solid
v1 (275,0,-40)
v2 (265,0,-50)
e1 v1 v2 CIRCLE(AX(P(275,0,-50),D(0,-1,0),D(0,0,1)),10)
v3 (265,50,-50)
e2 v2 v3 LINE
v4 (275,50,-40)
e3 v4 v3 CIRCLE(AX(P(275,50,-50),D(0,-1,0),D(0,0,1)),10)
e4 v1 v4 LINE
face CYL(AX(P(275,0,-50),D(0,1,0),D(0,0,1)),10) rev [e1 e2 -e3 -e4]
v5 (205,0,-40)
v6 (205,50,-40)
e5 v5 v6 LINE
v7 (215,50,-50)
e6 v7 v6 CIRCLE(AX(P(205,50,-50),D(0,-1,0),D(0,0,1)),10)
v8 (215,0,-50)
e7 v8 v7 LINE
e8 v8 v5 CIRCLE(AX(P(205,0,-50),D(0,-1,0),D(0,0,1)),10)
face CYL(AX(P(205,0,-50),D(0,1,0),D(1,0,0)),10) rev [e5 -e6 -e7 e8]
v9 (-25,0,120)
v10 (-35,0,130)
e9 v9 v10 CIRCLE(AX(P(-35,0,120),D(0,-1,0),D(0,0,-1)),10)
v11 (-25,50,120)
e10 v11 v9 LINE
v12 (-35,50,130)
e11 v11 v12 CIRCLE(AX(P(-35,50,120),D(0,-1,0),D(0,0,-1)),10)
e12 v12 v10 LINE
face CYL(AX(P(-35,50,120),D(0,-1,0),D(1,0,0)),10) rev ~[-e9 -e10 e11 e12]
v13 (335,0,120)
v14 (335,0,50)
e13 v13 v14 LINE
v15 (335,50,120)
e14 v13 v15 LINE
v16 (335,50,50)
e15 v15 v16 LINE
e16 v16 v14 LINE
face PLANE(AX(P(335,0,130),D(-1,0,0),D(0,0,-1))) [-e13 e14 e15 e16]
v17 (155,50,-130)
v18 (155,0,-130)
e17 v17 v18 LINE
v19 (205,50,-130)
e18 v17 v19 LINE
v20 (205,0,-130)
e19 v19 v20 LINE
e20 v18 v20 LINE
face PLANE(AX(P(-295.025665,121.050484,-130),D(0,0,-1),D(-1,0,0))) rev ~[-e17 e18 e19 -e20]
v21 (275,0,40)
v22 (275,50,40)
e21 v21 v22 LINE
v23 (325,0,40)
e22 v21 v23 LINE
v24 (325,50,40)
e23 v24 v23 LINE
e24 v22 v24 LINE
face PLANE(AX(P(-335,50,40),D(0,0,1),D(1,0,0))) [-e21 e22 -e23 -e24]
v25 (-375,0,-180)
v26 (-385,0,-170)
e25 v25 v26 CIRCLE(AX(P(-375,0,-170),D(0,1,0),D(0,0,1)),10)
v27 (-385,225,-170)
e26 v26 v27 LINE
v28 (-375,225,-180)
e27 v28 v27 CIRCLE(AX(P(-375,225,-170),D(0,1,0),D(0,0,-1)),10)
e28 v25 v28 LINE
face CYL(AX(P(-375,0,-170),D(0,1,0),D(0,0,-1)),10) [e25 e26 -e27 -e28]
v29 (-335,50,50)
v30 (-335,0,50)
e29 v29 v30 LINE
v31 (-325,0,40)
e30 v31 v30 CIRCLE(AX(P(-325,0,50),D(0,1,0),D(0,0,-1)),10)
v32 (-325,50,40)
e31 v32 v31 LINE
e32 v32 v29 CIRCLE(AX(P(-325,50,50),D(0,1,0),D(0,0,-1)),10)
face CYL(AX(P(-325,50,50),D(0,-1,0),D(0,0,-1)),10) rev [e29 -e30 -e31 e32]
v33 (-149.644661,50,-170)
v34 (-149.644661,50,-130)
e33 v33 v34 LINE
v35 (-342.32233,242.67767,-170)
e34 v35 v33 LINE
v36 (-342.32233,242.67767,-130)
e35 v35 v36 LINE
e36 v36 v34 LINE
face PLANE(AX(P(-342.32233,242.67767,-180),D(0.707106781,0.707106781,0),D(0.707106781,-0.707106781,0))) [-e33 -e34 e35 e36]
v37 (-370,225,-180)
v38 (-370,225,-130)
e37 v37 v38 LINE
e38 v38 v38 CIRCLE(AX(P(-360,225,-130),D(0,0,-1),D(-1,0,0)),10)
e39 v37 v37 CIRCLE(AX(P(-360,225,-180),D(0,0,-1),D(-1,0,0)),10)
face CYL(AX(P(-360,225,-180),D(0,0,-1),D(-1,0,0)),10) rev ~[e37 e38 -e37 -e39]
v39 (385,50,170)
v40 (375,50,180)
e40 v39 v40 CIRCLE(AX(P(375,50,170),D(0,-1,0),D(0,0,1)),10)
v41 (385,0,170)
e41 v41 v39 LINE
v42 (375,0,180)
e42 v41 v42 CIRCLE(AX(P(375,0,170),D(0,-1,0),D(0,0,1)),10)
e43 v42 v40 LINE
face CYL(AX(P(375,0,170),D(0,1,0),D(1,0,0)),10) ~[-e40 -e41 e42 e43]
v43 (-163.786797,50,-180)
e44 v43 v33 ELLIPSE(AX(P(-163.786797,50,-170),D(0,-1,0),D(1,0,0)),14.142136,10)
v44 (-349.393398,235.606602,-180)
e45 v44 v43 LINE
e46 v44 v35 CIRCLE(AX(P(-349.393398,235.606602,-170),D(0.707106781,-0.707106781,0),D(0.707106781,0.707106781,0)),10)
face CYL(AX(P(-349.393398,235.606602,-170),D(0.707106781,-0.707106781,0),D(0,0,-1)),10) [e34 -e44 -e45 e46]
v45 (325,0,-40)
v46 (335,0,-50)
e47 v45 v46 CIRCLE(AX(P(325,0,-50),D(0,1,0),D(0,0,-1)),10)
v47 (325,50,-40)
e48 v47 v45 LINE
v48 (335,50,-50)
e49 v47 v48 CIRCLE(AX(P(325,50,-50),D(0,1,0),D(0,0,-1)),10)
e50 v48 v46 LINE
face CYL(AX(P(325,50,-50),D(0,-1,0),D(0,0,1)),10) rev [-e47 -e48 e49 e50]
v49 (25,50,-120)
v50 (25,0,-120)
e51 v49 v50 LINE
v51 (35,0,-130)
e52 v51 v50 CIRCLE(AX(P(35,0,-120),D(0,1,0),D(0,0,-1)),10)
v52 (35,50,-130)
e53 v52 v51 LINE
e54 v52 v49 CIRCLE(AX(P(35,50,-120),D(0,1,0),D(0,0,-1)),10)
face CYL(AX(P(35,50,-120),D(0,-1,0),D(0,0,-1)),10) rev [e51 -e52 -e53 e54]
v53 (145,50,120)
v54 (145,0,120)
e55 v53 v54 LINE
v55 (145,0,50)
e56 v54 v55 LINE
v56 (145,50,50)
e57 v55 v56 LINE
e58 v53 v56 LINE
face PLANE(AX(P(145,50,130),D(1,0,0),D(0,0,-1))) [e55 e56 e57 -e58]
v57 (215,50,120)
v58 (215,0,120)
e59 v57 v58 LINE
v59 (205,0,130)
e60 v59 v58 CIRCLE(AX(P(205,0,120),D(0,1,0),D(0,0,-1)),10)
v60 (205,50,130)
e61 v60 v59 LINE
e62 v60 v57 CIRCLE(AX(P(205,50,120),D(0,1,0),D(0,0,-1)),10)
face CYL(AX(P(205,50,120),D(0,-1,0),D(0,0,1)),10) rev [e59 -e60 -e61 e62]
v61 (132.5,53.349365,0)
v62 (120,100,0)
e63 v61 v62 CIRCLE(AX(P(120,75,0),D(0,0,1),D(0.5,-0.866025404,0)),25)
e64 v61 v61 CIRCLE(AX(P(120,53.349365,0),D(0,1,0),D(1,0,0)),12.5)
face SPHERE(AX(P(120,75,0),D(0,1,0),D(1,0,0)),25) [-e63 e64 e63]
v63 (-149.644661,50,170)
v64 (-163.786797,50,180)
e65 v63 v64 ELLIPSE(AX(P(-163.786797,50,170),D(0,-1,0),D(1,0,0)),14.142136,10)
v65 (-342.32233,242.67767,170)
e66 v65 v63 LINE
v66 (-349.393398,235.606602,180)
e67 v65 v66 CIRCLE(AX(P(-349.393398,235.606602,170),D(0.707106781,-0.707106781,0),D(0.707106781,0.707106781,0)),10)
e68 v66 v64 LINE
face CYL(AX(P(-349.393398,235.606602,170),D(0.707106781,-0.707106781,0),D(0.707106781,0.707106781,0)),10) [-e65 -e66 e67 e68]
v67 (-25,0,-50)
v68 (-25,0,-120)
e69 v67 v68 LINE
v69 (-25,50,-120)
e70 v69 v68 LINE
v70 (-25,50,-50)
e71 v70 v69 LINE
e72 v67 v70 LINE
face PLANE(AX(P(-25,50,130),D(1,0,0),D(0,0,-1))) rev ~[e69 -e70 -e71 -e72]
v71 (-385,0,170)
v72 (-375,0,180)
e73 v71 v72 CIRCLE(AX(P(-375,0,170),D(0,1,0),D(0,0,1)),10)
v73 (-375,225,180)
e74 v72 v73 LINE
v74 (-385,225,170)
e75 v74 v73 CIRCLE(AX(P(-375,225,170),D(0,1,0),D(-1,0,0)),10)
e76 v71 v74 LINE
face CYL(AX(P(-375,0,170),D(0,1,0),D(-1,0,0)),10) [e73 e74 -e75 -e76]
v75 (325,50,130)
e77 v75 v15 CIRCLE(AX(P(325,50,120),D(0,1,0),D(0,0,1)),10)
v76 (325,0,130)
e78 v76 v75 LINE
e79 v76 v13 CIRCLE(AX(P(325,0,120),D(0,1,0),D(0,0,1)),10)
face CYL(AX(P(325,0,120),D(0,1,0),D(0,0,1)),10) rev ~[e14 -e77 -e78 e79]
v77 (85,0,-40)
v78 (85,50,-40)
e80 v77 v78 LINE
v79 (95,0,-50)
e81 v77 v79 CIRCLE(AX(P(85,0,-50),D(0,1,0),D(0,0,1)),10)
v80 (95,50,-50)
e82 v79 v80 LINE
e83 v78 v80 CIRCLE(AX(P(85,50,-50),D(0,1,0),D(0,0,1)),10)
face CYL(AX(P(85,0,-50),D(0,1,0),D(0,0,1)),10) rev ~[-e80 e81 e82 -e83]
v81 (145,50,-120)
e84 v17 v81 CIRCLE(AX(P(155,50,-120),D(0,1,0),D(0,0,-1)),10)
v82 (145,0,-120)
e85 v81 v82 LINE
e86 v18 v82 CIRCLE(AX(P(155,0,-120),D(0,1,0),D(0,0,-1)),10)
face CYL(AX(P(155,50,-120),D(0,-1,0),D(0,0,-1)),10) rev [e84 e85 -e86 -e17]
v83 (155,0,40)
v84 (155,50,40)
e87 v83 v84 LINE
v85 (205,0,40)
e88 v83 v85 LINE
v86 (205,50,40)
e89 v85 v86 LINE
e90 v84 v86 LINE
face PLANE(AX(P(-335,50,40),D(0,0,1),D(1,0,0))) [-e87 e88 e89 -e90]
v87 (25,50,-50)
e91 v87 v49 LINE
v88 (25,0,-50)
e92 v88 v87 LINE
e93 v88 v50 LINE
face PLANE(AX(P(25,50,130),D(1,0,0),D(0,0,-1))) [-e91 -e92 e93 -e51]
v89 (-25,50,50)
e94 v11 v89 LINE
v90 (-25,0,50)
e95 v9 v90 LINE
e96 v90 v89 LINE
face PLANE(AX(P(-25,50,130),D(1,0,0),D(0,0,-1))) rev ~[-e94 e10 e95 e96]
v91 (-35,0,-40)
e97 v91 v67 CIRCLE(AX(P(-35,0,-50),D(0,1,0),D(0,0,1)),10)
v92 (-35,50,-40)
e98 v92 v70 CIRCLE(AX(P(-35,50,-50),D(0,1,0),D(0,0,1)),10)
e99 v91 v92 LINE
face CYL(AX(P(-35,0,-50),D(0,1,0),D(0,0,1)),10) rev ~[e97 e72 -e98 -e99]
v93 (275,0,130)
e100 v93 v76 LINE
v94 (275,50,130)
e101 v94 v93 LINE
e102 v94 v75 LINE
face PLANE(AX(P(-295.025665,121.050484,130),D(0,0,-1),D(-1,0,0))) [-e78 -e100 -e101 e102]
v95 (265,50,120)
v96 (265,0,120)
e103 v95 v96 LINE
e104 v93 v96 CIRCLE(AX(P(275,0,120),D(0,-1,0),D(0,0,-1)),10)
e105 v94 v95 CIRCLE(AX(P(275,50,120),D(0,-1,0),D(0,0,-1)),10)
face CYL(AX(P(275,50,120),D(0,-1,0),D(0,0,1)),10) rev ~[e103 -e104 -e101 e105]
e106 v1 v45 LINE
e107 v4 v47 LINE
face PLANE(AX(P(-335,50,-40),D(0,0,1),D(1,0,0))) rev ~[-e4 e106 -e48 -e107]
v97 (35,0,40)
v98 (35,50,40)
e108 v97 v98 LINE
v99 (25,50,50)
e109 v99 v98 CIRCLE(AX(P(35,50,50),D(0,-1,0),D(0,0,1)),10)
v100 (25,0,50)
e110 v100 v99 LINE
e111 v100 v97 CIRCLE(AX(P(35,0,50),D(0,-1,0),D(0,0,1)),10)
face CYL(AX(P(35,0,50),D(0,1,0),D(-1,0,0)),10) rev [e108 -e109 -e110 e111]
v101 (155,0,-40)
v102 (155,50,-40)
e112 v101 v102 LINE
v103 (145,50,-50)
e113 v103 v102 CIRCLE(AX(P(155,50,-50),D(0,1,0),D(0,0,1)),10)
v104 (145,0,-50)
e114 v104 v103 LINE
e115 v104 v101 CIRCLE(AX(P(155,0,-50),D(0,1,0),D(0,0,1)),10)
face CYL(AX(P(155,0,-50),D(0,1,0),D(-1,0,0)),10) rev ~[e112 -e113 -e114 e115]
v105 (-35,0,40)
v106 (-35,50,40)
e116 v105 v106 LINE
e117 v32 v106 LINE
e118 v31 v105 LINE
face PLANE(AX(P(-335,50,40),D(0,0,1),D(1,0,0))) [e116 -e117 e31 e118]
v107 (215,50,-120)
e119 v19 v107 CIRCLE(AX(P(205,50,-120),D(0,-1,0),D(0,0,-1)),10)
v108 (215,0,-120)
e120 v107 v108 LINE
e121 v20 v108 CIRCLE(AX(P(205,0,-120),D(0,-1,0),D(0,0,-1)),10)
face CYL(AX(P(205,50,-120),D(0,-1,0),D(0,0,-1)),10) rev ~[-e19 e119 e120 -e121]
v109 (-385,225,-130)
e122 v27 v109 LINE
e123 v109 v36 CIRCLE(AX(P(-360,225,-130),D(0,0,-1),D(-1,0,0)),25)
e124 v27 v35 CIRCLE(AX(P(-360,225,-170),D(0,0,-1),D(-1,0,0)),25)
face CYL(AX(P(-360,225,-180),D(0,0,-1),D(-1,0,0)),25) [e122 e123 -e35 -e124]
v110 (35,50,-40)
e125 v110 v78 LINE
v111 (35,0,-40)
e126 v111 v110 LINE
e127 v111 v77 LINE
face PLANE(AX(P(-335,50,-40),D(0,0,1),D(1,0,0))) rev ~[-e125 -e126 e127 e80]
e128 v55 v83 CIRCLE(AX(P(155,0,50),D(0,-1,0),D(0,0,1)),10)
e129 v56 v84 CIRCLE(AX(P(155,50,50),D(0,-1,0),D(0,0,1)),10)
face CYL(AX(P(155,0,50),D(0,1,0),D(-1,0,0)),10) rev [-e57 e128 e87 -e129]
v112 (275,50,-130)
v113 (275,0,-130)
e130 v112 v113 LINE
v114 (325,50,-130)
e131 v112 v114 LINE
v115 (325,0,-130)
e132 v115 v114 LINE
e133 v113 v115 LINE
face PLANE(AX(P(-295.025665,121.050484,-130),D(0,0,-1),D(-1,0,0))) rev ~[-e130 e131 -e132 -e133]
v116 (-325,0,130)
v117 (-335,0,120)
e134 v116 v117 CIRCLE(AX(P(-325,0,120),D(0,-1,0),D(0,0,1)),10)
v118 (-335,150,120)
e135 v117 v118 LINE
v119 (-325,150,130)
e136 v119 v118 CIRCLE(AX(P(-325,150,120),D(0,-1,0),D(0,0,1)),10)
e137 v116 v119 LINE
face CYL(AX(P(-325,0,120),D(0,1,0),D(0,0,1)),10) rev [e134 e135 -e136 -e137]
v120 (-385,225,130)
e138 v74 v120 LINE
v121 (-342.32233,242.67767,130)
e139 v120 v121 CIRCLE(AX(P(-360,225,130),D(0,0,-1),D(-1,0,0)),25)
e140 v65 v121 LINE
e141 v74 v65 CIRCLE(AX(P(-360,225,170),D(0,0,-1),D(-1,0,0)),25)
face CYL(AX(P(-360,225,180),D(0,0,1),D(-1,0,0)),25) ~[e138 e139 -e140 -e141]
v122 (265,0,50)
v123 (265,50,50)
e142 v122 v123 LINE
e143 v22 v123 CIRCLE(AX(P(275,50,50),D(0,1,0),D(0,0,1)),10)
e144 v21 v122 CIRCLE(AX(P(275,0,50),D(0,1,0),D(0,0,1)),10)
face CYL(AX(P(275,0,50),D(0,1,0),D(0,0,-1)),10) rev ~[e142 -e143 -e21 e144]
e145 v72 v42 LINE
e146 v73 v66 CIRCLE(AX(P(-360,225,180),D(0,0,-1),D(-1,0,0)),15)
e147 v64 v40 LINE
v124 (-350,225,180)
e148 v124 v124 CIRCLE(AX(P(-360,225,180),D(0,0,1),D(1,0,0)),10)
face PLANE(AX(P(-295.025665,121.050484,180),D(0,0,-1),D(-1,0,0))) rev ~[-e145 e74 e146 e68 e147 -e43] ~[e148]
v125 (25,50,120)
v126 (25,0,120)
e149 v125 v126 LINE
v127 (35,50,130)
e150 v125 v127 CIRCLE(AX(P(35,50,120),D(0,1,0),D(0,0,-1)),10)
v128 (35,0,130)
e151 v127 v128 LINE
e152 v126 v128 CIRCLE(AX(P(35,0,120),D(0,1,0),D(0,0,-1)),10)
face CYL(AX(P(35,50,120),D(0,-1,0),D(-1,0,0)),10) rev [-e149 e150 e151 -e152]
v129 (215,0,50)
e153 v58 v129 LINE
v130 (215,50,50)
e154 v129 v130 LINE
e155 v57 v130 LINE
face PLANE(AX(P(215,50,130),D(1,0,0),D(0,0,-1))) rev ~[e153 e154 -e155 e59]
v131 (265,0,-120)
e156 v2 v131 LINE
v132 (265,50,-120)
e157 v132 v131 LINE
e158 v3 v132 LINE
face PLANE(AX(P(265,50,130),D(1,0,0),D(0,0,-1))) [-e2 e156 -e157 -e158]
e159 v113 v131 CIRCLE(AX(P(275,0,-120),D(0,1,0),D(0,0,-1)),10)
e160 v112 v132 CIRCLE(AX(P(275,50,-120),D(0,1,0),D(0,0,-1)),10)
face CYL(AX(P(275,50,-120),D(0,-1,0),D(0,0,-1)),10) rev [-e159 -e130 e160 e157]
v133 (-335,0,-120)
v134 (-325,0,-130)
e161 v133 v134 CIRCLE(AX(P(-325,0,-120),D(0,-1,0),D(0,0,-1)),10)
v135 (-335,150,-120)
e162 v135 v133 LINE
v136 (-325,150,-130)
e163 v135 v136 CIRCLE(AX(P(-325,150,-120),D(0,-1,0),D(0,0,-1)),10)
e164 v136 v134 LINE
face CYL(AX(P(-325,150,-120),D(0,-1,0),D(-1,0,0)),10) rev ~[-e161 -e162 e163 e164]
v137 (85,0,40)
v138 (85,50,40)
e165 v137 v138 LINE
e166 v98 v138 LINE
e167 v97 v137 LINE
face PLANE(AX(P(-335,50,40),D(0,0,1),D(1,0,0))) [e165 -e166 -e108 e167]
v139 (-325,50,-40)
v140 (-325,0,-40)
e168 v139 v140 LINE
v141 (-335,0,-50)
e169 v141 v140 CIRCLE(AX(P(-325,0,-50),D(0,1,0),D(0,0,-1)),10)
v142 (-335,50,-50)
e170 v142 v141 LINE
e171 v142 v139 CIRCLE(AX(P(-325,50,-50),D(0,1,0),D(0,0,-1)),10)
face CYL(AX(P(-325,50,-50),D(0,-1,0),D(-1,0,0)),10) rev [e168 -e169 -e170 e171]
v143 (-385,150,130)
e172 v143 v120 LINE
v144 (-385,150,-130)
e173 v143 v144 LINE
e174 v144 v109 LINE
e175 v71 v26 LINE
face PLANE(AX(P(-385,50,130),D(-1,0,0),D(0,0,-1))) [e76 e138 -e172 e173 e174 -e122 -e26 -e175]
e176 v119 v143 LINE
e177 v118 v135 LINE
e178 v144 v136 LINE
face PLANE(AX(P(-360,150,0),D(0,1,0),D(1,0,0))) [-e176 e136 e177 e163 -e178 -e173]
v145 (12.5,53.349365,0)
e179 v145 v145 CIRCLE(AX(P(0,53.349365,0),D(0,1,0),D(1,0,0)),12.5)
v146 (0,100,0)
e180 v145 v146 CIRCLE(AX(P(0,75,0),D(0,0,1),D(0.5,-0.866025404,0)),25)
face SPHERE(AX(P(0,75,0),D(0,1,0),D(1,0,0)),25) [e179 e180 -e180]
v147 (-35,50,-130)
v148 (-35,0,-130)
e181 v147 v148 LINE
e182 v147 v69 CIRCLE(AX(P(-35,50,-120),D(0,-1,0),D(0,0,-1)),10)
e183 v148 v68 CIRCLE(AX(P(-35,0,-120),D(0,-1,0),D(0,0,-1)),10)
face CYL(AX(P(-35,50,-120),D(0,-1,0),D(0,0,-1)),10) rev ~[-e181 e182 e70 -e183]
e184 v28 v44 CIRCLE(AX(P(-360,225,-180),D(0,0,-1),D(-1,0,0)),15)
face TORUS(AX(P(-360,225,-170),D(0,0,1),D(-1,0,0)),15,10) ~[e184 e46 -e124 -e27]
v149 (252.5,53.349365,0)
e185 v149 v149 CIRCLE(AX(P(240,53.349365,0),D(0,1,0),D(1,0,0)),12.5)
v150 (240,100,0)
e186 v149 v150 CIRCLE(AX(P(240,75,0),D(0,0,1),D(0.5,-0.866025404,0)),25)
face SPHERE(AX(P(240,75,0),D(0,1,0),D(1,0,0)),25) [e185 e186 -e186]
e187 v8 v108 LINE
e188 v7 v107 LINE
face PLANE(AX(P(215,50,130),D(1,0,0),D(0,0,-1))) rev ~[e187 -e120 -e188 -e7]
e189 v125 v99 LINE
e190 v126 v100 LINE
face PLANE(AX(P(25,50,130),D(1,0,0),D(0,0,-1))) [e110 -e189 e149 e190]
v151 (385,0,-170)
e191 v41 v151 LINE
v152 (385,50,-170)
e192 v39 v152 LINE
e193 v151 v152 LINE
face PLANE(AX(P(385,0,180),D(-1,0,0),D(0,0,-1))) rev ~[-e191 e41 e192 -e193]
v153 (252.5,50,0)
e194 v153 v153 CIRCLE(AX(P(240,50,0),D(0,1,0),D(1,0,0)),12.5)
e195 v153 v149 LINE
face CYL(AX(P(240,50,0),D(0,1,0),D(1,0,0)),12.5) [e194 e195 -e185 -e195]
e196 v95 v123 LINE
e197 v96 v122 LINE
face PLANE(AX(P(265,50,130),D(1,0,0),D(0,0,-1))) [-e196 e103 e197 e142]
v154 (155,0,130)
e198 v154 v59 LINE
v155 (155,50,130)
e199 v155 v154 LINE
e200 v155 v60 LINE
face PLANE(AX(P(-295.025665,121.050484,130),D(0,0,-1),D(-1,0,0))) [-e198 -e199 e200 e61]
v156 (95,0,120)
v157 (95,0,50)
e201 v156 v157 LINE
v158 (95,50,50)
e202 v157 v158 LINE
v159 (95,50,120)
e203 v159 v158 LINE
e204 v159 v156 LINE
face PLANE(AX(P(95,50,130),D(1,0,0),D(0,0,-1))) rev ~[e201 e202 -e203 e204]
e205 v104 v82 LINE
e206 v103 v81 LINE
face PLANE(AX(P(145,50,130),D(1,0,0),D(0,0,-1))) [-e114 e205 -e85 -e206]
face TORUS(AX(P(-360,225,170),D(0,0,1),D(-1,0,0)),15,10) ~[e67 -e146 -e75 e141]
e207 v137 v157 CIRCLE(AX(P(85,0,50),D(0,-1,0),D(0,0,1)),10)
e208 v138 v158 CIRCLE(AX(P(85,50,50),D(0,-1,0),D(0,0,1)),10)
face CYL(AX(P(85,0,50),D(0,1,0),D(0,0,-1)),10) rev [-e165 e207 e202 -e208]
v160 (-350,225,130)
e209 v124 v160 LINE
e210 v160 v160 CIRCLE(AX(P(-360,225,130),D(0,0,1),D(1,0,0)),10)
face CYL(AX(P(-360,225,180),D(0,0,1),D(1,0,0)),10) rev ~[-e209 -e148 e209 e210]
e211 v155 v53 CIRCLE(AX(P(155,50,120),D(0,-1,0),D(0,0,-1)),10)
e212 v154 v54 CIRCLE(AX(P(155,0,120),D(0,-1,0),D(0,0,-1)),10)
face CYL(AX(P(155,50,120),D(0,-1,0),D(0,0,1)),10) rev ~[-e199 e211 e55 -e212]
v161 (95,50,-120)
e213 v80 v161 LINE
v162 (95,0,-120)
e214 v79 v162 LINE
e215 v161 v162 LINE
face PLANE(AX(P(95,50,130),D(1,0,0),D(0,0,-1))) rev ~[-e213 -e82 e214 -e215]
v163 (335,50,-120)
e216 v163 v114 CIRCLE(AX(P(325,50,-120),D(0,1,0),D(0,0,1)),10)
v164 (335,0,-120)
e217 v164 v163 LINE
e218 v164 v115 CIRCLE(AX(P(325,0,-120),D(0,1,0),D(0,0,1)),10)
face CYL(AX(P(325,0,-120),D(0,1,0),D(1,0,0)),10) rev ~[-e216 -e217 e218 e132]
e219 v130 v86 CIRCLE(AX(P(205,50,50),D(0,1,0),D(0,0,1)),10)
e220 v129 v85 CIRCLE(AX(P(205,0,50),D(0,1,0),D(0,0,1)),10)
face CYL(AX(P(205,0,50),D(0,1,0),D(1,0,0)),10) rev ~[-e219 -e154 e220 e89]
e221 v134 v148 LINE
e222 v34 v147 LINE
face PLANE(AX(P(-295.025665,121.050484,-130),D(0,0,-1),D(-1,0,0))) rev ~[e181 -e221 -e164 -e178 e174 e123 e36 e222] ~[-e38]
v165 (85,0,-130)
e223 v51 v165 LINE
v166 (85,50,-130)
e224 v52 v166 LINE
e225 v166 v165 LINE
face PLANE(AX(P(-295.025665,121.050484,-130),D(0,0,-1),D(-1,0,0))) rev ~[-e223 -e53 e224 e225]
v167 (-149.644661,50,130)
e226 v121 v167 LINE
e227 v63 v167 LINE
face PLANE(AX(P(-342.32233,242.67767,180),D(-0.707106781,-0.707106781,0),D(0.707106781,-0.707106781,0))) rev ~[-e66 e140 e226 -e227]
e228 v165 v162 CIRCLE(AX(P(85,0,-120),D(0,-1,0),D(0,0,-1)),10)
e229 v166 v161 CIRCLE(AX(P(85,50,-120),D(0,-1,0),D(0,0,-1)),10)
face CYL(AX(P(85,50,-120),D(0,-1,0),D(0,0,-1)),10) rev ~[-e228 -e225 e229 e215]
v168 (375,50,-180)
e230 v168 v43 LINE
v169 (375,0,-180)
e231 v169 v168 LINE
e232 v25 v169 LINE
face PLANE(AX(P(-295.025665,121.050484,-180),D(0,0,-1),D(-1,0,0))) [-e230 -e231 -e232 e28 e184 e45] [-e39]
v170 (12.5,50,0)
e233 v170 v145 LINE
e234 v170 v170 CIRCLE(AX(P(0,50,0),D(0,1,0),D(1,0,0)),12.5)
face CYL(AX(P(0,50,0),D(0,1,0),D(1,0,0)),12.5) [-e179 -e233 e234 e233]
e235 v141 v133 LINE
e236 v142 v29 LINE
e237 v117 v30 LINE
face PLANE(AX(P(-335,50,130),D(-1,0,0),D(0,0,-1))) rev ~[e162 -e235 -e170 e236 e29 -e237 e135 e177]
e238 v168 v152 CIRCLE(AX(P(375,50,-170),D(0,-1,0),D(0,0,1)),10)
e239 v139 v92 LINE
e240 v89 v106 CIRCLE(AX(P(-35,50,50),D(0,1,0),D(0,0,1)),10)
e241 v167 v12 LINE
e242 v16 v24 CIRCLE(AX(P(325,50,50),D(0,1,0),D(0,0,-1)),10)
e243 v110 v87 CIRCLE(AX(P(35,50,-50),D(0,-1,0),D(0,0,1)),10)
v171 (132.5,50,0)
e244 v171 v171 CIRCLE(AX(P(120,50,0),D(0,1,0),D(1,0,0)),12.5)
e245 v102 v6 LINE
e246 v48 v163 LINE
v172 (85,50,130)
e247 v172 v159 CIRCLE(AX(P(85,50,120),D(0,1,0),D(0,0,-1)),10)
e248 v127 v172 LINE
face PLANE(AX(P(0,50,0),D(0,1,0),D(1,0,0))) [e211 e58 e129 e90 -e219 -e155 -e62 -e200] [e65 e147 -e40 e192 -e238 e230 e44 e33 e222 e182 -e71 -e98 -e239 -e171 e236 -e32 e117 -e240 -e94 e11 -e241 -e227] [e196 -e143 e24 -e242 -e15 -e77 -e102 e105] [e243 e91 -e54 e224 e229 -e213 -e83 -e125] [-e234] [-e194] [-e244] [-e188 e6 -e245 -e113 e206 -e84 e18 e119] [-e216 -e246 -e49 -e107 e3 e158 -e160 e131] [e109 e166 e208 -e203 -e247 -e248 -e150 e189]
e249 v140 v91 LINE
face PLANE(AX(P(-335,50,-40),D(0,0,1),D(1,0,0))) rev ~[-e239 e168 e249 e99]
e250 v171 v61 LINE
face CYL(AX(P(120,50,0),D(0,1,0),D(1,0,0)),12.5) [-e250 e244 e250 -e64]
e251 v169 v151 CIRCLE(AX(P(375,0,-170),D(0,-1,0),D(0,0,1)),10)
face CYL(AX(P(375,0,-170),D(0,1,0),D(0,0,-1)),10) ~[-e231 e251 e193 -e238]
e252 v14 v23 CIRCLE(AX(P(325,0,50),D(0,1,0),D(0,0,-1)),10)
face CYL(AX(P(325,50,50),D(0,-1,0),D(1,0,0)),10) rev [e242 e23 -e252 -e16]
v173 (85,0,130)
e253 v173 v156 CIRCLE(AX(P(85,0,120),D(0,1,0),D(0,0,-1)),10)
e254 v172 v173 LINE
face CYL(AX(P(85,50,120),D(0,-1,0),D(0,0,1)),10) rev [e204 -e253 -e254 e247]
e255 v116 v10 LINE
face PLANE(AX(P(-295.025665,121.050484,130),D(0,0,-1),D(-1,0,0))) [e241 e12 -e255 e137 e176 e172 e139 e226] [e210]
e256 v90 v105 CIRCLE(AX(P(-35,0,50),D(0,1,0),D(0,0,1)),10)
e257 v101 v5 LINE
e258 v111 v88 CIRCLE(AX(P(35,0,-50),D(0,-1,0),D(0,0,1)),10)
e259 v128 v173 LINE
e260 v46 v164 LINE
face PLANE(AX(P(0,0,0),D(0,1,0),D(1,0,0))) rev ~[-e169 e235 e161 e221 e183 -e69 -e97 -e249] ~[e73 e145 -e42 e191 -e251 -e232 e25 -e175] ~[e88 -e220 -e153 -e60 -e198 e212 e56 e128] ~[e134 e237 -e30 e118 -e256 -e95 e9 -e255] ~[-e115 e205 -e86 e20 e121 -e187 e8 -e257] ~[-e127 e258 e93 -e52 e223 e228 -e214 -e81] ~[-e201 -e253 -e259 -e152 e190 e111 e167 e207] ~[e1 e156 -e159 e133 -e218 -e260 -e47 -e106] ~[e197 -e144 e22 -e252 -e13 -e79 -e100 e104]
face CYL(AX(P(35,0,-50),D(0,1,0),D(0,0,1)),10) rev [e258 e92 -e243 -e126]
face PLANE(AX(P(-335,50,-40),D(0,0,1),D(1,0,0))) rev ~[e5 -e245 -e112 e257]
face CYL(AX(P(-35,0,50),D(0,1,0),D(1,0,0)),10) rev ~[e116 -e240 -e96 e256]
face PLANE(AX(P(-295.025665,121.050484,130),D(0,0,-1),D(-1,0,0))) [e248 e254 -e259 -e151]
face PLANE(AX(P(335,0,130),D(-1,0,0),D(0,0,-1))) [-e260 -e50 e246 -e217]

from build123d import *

# Parameters (mm, degrees)
SKETCH_1_W              = 770
SKETCH_1_H              = 360
SKETCH_1_W_2            = 670
SKETCH_1_H_2            = 260
EXTRUDE_1_DEPTH         = 50
SKETCH_2_R              = 10
EXTRUDE_2_DEPTH         = 50
SKETCH_3_R              = 10
EXTRUDE_3_DEPTH         = 50
SKETCH_4_W              = 670
SKETCH_4_H              = 80
EXTRUDE_4_DEPTH         = 50
SKETCH_8_W              = 50
SKETCH_8_H              = 260
EXTRUDE_6_DEPTH         = 100
PATTERN_LINEAR_27_COUNT = 3
PATTERN_LINEAR_27_PITCH = 120
SKETCH_12_W             = 50
SKETCH_12_H             = 260
EXTRUDE_10_DEPTH        = 50
FILLET_3_R              = 10


with BuildPart() as part:
    # 草图1 → 凸台-拉伸1 (new body)
    with BuildSketch(Plane(origin=(0, 0, 0), x_dir=(1, 0, 0), z_dir=(0, 1, 0))):
        Rectangle(SKETCH_1_W, SKETCH_1_H)
        Rectangle(SKETCH_1_W_2, SKETCH_1_H_2, mode=Mode.SUBTRACT)
    extrude(amount=EXTRUDE_1_DEPTH)

    # 草图2 → 凸台-拉伸2 (add)
    with BuildSketch(Plane.XY.offset(180)):
        with BuildLine():
            Line((-385, 50), (-385, 225))
            ThreePointArc((-385, 225), (-369.567085809, 248.096988313), (-342.32233047, 242.67766953))
            Line((-342.32233047, 242.67766953), (-149.644660941, 50))
            Line((-149.644660941, 50), (-385, 50))
        make_face()
        with Locations((-360, 225)):
            Circle(SKETCH_2_R, mode=Mode.SUBTRACT)
    extrude(amount=-EXTRUDE_2_DEPTH)

    # 草图3 → 凸台-拉伸3 (add)
    with BuildSketch(Plane(origin=(0, 0, -180), x_dir=(-1, 0, 0), z_dir=(0, 0, -1))):
        with BuildLine():
            Line((149.644660941, 50), (385, 50))
            Line((385, 50), (385, 225))
            ThreePointArc((385, 225), (369.567085809, 248.096988313), (342.32233047, 242.67766953))
            Line((342.32233047, 242.67766953), (149.644660941, 50))
        make_face()
        with Locations((360, 225)):
            Circle(SKETCH_3_R, mode=Mode.SUBTRACT)
    extrude(amount=-EXTRUDE_3_DEPTH)

    # 草图4 → 凸台-拉伸4 (add)
    with BuildSketch(Plane(origin=(0, 50, 0), x_dir=(1, 0, 0), z_dir=(0, 1, 0))):
        Rectangle(SKETCH_4_W, SKETCH_4_H)
    extrude(amount=-EXTRUDE_4_DEPTH)

    # 草图8 → 凸台-拉伸6 (add)
    with BuildSketch(Plane(origin=(0, 50, 0), x_dir=(1, 0, 0), z_dir=(0, 1, 0))):
        with Locations((-360, 0)):
            Rectangle(SKETCH_8_W, SKETCH_8_H)
    extrude(amount=EXTRUDE_6_DEPTH)

    # 草图11 → 旋转1 (revolve)
    with BuildSketch(Plane.XY):
        with BuildLine():
            Line((0, 50), (12.5, 50))
            Line((12.5, 50), (12.5, 53.349364905))
            ThreePointArc((12.5, 53.349364905), (24.148145657, 81.470476128), (0, 100))
            Line((0, 100), (0, 99.72990561))
            Line((0, 99.72990561), (0, 50))
        make_face()
    revolve_1 = revolve(axis=Axis((0, 50, 0), (0, 1, 0)))

    # 阵列(线性)27: 旋转1 ×3
    with Locations(*[(i * PATTERN_LINEAR_27_PITCH, 0, 0) for i in range(1, PATTERN_LINEAR_27_COUNT)]):
        add(revolve_1)

    # 草图12 → 凸台-拉伸10 (add)
    with BuildSketch(Plane(origin=(0, 50, 0), x_dir=(1, 0, 0), z_dir=(0, 1, 0))):
        Rectangle(SKETCH_12_W, SKETCH_12_H)
        with Locations((120, 0)):
            Rectangle(SKETCH_12_W, SKETCH_12_H)
        with Locations((240, 0)):
            Rectangle(SKETCH_12_W, SKETCH_12_H)
    extrude(amount=-EXTRUDE_10_DEPTH)

    # 圆角3
    fillet_3_edges = [part.edges().sort_by_distance(p)[0] for p in [
        (-25, 25, 40),
        (25, 25, 40),
        (25, 25, -40),
        (25, 25, -130),
        (-25, 25, -40),
        (25, 25, 130),
        (-25, 25, 130),
        (-25, 25, -130),
        (145, 25, -40),
        (145, 25, -130),
        (95, 25, -40),
        (95, 25, -130),
        (145, 25, 40),
        (145, 25, 130),
        (95, 25, 40),
        (95, 25, 130),
        (-335, 75, 130),
        (335, 25, 130),
        (335, 25, -130),
        (-335, 75, -130),
        (265, 25, -40),
        (265, 25, -130),
        (215, 25, -40),
        (215, 25, -130),
        (265, 25, 40),
        (265, 25, 130),
        (215, 25, 40),
        (215, 25, 130),
        (-245.983495706, 146.338834765, 180),
        (-369.567085809, 248.096988313, 180),
        (-245.983495706, 146.338834765, -180),
        (-369.567085809, 248.096988313, -180),
        (-335, 25, 40),
        (-335, 25, -40),
        (335, 25, -40),
        (335, 25, 40),
        (-385, 112.5, -180),
        (385, 25, -180),
        (385, 25, 180),
        (-385, 112.5, 180),
    ]]
    fillet(fillet_3_edges, radius=FILLET_3_R)


solid = part.part
